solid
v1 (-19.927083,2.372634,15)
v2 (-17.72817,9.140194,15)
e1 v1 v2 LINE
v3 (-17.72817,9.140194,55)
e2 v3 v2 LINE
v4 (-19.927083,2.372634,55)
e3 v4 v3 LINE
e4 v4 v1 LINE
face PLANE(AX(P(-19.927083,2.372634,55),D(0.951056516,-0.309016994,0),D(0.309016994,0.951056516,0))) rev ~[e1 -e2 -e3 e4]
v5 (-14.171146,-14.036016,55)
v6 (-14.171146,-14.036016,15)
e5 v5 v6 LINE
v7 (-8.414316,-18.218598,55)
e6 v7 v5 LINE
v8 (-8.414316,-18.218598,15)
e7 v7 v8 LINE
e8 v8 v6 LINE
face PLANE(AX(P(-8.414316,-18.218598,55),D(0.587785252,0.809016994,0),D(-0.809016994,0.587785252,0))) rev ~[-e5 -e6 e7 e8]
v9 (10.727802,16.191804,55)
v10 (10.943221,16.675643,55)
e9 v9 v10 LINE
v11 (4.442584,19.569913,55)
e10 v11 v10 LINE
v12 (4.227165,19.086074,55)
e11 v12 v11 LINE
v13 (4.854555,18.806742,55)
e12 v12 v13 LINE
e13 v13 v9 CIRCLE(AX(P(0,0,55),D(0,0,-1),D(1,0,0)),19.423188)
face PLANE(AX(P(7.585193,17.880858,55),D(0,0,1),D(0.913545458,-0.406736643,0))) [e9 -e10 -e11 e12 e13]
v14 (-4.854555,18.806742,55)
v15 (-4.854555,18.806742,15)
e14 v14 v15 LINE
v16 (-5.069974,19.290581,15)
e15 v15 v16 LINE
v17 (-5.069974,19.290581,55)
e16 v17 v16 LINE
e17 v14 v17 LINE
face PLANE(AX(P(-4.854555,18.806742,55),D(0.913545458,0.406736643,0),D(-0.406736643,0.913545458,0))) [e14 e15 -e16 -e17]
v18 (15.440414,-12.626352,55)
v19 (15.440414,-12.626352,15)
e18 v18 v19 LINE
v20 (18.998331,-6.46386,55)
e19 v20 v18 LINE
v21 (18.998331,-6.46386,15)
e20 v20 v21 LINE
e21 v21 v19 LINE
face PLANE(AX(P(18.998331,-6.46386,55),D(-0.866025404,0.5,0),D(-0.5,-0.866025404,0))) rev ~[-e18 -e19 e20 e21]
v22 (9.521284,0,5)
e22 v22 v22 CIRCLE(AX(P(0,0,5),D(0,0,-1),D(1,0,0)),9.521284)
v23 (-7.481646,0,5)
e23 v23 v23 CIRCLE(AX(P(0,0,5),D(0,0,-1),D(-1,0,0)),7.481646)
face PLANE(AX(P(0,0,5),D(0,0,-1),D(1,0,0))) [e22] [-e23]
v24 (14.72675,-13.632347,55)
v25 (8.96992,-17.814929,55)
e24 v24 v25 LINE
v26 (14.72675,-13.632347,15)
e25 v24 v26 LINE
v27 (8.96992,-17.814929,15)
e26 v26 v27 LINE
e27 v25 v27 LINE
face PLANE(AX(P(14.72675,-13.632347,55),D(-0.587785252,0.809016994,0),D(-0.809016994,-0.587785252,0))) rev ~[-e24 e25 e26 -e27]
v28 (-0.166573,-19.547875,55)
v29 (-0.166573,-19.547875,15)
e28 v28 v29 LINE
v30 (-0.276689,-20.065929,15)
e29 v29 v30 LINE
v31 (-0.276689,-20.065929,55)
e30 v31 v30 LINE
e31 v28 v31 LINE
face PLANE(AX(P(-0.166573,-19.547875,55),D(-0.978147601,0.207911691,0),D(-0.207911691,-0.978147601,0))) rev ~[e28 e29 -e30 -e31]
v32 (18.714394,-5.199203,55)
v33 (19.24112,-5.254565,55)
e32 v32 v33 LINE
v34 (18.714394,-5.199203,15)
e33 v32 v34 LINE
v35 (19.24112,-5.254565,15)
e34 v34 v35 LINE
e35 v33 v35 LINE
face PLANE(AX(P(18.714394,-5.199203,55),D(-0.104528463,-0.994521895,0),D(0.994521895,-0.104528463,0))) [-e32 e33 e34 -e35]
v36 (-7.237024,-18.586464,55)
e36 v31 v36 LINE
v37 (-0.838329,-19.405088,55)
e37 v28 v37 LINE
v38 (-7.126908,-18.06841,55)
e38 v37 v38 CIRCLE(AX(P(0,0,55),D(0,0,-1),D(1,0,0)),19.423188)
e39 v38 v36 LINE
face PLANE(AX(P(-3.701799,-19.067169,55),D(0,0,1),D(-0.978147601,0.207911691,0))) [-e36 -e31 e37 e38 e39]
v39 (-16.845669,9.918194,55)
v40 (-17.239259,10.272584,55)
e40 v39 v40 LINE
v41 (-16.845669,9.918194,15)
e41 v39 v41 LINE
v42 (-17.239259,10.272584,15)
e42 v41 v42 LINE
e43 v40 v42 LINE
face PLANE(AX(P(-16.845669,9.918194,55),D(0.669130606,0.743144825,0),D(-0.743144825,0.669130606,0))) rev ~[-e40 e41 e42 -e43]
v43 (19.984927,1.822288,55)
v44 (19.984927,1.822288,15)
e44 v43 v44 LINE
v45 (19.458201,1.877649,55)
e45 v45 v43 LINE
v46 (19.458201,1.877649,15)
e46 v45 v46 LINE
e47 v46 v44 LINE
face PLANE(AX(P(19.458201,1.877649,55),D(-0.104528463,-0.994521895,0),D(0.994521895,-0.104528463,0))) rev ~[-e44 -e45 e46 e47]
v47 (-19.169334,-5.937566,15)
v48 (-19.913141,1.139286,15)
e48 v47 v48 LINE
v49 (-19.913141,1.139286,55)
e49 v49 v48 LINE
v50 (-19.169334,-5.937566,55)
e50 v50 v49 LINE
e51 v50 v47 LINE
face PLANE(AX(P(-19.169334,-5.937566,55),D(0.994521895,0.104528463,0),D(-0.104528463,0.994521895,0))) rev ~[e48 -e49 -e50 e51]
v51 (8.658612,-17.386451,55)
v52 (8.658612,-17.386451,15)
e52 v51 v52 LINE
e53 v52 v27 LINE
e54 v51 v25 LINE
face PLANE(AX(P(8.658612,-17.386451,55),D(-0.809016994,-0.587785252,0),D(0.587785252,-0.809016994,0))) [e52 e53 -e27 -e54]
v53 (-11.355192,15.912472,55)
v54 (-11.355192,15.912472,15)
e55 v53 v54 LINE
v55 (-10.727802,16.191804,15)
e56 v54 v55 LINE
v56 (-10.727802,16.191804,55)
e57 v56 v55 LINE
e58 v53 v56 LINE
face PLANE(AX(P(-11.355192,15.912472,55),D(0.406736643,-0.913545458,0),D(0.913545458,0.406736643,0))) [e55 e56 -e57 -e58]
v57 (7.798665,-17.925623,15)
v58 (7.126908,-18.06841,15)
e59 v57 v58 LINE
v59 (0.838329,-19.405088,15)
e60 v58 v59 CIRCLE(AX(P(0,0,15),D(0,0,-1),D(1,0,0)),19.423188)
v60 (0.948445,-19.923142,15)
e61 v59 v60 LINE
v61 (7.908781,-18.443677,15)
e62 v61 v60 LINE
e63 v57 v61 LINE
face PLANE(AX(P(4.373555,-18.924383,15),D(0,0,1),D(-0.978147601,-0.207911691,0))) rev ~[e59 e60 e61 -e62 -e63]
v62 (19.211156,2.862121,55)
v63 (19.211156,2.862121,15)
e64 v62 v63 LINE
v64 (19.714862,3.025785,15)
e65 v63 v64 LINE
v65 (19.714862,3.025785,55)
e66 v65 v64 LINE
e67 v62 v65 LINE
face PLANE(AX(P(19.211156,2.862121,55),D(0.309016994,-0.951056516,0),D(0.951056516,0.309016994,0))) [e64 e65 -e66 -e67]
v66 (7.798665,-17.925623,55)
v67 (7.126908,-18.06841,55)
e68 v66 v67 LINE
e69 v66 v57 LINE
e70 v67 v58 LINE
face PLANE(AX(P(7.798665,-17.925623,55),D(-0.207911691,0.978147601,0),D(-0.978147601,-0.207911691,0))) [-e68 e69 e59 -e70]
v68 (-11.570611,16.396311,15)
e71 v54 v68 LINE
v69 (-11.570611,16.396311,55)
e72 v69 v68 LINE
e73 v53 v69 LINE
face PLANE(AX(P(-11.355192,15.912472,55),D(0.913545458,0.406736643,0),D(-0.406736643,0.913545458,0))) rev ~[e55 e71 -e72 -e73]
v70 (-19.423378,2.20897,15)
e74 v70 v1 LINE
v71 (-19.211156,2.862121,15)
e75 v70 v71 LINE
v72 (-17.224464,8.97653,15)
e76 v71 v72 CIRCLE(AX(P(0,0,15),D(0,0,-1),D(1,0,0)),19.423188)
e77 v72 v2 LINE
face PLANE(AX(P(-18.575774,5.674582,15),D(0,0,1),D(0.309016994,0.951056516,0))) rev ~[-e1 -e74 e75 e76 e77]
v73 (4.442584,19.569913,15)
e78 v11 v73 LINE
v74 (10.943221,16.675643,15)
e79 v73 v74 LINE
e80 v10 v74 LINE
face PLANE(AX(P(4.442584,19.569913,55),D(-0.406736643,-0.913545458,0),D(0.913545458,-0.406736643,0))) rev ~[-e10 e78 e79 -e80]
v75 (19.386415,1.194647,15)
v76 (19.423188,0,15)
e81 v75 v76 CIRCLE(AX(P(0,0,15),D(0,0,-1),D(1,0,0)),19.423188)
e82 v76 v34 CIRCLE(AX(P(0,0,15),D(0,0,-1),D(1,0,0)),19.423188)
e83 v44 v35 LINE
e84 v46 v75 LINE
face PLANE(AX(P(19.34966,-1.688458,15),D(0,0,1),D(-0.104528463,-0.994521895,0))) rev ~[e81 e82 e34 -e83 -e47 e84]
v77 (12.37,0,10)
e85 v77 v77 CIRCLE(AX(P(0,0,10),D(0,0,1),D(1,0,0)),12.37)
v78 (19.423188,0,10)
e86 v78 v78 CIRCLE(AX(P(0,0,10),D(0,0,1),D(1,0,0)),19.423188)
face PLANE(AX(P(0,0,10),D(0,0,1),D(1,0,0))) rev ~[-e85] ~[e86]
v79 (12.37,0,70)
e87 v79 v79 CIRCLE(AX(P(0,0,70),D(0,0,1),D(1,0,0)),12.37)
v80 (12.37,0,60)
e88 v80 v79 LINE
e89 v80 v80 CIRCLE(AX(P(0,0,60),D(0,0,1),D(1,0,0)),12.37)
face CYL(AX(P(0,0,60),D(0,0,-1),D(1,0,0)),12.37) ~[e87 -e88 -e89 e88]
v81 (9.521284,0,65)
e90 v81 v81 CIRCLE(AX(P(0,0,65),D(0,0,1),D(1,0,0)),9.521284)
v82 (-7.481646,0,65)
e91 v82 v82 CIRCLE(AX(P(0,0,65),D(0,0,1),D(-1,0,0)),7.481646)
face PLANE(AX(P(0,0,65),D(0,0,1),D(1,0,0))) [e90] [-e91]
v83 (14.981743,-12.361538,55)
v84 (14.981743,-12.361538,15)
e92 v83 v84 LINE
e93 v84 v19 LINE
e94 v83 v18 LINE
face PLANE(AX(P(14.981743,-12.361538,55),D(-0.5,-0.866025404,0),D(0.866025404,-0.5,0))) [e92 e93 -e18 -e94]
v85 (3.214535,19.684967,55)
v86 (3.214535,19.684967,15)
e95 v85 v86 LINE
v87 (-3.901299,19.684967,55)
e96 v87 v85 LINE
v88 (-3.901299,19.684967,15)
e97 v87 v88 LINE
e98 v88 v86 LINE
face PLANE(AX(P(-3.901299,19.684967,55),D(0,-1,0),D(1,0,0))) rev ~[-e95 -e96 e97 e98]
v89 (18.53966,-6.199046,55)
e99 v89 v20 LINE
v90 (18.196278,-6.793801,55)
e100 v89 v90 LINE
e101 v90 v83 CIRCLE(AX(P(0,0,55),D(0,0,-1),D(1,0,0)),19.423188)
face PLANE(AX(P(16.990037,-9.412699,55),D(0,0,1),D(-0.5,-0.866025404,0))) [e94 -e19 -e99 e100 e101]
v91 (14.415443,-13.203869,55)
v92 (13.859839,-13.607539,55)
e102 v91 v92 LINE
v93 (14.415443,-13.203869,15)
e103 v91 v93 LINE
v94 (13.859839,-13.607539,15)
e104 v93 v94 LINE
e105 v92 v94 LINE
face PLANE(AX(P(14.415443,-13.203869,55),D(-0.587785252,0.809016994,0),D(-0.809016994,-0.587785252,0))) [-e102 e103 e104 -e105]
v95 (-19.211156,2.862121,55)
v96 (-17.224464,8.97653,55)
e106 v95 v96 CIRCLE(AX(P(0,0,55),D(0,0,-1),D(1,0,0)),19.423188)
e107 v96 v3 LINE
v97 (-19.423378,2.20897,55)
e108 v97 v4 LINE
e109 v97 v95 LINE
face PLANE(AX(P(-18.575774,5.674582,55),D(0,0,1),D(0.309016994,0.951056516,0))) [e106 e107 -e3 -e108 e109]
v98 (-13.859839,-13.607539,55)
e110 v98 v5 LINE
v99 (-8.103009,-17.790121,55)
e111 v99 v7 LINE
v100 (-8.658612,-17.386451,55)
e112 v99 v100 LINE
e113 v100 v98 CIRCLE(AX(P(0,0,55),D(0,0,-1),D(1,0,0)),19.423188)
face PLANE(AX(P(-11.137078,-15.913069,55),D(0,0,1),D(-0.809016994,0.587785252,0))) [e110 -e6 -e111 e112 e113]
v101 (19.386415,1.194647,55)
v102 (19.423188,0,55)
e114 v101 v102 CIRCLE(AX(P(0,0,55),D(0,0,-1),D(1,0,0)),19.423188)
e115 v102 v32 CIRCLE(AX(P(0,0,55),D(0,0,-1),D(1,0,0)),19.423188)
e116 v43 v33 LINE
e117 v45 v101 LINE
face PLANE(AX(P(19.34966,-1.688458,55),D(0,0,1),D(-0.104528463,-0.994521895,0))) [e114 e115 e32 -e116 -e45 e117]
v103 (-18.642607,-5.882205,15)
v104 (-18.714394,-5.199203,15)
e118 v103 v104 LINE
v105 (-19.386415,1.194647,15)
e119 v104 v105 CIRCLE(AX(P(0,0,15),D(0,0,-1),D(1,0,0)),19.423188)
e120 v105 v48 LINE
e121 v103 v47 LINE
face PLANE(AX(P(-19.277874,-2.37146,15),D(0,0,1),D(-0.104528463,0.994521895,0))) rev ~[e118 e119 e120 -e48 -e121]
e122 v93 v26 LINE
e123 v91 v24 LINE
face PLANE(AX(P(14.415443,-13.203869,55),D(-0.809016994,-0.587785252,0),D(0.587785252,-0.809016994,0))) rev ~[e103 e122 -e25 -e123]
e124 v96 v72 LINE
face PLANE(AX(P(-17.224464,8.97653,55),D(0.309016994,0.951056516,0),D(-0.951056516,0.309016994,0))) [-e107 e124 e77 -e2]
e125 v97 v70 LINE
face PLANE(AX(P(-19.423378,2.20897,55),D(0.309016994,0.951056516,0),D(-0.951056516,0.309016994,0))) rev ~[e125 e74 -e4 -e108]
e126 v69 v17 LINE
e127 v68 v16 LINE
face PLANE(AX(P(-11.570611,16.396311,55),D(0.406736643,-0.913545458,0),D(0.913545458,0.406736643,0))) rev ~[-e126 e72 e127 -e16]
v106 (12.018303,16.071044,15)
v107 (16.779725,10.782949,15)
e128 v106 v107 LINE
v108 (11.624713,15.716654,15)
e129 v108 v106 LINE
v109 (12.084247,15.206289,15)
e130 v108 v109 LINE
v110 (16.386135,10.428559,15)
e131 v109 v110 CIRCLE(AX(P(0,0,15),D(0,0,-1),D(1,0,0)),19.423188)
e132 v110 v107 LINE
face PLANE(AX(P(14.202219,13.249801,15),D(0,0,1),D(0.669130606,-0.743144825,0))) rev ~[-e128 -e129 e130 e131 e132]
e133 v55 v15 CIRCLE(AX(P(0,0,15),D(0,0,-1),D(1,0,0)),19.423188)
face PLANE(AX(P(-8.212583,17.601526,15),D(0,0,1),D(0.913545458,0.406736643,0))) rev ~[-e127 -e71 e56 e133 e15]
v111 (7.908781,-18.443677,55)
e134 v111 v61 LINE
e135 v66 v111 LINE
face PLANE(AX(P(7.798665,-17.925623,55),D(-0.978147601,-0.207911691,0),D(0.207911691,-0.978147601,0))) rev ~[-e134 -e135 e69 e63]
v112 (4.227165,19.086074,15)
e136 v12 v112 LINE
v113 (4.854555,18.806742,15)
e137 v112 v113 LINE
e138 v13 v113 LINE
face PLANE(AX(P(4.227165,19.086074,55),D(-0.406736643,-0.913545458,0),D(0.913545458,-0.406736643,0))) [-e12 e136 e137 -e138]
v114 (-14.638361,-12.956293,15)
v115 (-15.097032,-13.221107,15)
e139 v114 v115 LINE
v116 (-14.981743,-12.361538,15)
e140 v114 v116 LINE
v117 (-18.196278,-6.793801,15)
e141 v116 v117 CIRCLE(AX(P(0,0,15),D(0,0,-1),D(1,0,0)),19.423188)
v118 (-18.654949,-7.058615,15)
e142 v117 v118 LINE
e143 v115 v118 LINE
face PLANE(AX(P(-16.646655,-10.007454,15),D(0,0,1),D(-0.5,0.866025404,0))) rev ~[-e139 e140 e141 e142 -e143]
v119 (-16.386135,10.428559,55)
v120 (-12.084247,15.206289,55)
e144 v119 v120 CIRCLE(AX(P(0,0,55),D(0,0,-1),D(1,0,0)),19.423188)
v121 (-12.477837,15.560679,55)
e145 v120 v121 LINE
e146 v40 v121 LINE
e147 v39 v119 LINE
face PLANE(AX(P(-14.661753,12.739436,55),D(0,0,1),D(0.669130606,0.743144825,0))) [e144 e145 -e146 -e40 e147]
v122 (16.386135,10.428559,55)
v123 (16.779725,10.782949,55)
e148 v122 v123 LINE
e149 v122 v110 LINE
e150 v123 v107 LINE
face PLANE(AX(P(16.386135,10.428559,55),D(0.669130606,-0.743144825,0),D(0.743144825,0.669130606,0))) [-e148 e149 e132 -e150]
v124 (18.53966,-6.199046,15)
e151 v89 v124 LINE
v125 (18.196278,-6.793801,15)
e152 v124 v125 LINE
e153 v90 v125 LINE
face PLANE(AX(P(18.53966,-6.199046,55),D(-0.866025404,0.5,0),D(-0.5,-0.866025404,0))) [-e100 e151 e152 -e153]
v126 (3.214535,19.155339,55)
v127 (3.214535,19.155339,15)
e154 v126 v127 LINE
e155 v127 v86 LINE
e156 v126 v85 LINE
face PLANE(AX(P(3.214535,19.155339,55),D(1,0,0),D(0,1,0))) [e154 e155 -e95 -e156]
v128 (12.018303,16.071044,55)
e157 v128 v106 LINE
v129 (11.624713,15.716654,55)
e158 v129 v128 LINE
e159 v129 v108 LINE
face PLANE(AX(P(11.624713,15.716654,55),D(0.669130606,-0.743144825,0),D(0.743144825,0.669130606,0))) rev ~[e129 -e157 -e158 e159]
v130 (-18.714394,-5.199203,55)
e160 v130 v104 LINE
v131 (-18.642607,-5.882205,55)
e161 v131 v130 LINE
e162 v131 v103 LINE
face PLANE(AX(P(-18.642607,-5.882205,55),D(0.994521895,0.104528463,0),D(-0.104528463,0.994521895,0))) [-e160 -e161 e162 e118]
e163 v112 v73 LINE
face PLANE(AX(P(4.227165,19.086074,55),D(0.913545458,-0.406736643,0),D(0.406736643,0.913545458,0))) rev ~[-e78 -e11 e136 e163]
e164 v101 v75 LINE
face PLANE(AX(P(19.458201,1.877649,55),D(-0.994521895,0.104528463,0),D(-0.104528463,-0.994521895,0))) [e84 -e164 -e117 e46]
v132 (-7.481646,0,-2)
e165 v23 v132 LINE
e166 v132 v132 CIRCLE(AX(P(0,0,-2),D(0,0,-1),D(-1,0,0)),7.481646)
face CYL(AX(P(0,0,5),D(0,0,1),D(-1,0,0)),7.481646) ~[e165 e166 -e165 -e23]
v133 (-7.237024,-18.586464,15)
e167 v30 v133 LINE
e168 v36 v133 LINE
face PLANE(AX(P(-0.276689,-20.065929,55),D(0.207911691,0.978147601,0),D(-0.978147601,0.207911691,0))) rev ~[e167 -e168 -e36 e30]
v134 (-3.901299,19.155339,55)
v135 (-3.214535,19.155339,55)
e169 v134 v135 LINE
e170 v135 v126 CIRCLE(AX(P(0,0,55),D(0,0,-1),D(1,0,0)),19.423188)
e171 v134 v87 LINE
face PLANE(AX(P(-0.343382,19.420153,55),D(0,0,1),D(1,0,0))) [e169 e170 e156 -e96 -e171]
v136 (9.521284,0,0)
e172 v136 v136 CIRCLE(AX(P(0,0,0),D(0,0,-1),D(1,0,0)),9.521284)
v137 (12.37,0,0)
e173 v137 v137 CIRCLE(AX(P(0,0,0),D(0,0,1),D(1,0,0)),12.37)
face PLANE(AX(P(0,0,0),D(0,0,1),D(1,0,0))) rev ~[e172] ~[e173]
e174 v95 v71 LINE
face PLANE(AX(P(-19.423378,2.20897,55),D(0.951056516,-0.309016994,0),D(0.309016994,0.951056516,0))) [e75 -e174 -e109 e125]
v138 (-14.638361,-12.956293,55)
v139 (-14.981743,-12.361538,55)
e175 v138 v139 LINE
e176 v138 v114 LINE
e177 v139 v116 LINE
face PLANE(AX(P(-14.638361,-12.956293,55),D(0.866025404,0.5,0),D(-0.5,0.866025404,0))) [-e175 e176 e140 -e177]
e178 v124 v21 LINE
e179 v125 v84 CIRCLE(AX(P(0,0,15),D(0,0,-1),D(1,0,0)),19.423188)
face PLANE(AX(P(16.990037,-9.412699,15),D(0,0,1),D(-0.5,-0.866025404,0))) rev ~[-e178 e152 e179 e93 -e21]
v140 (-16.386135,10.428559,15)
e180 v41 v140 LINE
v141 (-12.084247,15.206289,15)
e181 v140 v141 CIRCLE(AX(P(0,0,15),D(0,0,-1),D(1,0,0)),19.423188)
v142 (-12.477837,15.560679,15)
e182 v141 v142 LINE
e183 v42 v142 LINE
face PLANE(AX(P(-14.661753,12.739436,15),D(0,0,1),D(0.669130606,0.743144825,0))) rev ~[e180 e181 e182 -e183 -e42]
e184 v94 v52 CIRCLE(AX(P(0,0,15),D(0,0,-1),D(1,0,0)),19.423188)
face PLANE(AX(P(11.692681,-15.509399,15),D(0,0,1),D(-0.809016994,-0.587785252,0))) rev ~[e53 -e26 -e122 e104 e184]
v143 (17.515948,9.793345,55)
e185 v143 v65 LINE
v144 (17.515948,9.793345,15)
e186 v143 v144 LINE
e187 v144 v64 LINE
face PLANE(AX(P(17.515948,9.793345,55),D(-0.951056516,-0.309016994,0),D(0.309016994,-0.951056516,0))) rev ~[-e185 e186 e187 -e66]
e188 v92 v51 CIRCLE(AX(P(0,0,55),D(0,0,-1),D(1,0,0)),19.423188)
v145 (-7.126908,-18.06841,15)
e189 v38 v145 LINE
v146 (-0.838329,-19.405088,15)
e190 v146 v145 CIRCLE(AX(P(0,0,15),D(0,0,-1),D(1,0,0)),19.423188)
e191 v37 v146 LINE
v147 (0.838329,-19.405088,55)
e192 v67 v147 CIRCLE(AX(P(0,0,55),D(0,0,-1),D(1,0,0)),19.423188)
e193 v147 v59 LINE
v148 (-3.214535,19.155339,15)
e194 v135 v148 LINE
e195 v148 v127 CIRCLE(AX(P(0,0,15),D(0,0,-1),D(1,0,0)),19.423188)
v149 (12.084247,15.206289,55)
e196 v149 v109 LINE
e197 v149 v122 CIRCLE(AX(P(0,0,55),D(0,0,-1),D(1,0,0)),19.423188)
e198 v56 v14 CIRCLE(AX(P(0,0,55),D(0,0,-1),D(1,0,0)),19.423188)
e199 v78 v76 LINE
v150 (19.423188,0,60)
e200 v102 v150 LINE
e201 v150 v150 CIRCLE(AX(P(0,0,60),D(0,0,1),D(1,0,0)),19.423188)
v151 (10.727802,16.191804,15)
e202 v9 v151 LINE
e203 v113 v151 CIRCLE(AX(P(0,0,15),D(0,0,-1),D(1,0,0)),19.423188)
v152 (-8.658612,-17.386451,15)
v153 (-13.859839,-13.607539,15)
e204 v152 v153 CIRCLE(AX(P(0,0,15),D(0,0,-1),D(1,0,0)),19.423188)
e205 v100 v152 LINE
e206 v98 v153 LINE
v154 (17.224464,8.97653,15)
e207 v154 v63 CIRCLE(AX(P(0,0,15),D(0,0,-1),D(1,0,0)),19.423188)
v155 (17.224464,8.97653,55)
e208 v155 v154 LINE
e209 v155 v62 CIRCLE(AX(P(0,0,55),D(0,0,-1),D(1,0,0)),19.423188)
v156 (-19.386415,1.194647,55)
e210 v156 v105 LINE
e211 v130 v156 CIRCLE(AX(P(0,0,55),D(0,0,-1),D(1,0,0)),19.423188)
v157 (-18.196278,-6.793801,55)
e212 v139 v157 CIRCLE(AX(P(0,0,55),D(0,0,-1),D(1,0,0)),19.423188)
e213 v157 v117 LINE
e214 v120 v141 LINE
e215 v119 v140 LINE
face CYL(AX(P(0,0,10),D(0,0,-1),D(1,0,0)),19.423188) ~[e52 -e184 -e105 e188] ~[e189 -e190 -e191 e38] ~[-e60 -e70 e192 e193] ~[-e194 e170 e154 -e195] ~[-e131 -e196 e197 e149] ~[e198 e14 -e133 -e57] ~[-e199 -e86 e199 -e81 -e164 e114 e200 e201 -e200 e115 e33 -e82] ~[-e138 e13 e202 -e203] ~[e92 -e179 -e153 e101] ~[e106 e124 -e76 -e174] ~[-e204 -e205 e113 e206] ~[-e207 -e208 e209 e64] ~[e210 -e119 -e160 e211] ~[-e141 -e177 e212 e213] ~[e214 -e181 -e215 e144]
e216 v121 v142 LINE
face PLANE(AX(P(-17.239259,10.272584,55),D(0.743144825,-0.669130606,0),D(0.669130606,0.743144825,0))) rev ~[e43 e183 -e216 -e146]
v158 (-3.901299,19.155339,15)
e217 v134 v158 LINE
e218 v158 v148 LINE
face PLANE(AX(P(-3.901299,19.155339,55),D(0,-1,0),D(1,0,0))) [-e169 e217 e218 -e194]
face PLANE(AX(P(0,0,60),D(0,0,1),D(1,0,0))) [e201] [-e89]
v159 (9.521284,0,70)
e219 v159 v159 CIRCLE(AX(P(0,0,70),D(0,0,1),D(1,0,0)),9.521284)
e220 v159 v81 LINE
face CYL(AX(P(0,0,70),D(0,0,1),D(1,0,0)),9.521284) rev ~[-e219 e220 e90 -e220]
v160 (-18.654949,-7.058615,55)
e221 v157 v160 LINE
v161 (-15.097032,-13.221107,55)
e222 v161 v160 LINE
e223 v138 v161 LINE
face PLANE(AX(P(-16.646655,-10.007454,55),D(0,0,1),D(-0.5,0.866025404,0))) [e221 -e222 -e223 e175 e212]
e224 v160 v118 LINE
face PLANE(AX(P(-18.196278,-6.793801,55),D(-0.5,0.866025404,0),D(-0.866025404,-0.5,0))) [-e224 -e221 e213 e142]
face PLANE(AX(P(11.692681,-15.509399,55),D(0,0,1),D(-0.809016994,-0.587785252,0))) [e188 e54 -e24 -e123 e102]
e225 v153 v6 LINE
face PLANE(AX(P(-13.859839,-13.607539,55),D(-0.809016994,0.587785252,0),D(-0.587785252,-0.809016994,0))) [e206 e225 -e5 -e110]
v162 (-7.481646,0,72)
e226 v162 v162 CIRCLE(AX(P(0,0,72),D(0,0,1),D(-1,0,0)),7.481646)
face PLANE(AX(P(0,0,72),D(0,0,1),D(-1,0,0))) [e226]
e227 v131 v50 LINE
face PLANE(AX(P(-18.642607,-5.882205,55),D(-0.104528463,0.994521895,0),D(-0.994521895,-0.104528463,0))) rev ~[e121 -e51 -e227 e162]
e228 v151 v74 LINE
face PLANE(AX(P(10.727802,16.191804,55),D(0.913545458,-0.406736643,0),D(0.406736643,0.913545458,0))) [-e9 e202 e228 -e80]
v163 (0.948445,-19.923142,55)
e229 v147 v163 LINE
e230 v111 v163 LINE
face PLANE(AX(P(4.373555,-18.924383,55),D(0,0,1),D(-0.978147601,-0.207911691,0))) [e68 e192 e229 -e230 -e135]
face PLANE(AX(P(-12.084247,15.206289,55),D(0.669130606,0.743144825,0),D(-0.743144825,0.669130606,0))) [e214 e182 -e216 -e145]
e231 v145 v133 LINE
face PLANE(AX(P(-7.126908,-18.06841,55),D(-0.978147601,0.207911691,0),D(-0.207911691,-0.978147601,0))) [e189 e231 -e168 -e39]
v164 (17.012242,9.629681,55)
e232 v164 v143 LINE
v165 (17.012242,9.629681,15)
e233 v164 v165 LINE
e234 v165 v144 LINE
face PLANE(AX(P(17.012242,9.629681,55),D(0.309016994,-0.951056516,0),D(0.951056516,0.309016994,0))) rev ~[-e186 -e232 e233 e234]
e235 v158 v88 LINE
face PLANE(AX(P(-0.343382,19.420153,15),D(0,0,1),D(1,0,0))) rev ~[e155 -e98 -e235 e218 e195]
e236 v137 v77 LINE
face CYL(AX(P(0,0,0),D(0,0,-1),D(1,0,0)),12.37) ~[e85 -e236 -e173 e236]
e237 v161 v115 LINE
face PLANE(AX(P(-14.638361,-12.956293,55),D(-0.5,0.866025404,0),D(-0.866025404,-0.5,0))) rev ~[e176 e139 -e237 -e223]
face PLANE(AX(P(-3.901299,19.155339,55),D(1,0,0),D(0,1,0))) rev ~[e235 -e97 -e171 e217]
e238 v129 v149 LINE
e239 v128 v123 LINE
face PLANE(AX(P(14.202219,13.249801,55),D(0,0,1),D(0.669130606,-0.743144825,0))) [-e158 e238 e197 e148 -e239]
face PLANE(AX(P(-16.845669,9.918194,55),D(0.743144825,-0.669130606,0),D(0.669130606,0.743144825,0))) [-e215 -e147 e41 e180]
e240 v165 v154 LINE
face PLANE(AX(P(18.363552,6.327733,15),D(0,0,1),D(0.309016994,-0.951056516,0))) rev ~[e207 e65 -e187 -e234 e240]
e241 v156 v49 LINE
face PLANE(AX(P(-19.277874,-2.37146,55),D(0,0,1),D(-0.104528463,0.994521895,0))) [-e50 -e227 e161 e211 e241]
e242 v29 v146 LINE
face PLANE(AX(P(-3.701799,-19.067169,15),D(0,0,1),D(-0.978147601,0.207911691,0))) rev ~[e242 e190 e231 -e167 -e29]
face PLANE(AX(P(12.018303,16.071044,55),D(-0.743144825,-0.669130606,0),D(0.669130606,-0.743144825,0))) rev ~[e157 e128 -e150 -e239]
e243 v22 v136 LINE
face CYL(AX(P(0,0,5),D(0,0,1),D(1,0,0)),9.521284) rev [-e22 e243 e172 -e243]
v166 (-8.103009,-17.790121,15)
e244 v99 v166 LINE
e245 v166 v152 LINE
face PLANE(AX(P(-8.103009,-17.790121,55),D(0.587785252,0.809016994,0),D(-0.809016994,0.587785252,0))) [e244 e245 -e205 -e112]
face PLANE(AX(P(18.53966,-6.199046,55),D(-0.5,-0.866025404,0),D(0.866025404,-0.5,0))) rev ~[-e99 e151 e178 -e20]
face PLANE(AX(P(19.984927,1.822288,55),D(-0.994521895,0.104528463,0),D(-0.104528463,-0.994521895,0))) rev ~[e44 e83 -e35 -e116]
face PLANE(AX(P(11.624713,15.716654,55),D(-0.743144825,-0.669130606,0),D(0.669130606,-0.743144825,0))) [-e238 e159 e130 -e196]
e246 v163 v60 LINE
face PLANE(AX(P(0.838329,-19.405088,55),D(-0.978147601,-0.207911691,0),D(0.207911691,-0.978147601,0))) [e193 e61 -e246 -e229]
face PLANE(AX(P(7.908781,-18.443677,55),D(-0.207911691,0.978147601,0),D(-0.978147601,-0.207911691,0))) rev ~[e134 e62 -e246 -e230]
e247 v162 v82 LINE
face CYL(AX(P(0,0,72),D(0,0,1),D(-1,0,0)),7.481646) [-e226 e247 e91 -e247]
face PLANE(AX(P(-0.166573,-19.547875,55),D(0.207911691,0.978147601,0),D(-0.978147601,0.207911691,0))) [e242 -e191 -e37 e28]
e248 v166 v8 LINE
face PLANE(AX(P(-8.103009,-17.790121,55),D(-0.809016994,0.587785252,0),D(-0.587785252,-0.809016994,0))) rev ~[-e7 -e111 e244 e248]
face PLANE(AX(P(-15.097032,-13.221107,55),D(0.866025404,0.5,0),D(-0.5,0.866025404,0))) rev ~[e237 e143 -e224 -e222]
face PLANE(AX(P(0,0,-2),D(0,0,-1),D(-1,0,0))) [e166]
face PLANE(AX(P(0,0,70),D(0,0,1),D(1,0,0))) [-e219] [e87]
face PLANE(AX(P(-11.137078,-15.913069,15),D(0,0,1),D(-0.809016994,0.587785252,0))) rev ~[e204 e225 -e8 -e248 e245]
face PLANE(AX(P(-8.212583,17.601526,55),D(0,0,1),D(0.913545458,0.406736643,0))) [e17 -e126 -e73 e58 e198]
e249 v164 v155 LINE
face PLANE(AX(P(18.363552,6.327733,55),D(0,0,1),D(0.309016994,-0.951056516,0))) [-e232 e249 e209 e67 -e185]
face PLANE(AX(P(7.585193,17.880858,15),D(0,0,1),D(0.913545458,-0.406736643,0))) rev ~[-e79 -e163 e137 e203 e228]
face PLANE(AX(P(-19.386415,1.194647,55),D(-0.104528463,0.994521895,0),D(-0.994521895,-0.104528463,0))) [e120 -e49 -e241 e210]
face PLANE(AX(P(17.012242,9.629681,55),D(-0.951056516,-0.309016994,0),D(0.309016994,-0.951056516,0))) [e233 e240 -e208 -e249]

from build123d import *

# Parameters (mm, degrees)
SKETCH1_R           = 12.37
BOSS_EXTRUDE1_DEPTH = 10
SKETCH2_R           = 19.423188446
BOSS_EXTRUDE2_DEPTH = 50
SKETCH4_R           = 12.37
BOSS_EXTRUDE3_DEPTH = 10
BOSS_EXTRUDE4_START = -5
SKETCH5_W           = 7.115833501
SKETCH5_H           = 0.529627629
BOSS_EXTRUDE4_DEPTH = 40
CIRPATTERN1_COUNT   = 15
SKETCH6_R           = 9.521283716
CUT_EXTRUDE1_DEPTH  = 5
CUT_EXTRUDE2_START  = -5
SKETCH7_R           = 9.521283716
CUT_EXTRUDE2_DEPTH  = 5
SKETCH8_R           = 7.481646465
BOSS_EXTRUDE5_DEPTH = 7
BOSS_EXTRUDE6_START = 7
SKETCH9_R           = 7.481646465
BOSS_EXTRUDE6_DEPTH = 7


with BuildPart() as part:
    # Sketch1 → Boss-Extrude1 (new body)
    with BuildSketch(Plane.XY):
        Circle(SKETCH1_R)
    extrude(amount=BOSS_EXTRUDE1_DEPTH)

    # Sketch2 → Boss-Extrude2 (add)
    with BuildSketch(Plane.XY.offset(10)):
        Circle(SKETCH2_R)
    extrude(amount=BOSS_EXTRUDE2_DEPTH)

    # Sketch4 → Boss-Extrude3 (add)
    with BuildSketch(Plane.XY.offset(60)):
        Circle(SKETCH4_R)
    extrude(amount=BOSS_EXTRUDE3_DEPTH)

    # Sketch5 → Boss-Extrude4 (add)
    with BuildSketch(Plane.XY.offset(60).offset(BOSS_EXTRUDE4_START)):
        with Locations((-0.343381899, 19.42015289)):
            Rectangle(SKETCH5_W, SKETCH5_H)
    boss_extrude4 = extrude(amount=-BOSS_EXTRUDE4_DEPTH)

    # CirPattern1: Boss-Extrude4 ×15 about axis
    cirpattern1_axis = Axis((0, 0, 0), (0, 0, -1))
    for i in range(1, CIRPATTERN1_COUNT):
        add(boss_extrude4.rotate(cirpattern1_axis, i * 360 / CIRPATTERN1_COUNT))

    # Sketch6 → Cut-Extrude1 (cut)
    with BuildSketch(Plane.XY.offset(70)):
        Circle(SKETCH6_R)
    extrude(amount=-CUT_EXTRUDE1_DEPTH, mode=Mode.SUBTRACT)

    # Sketch7 → Cut-Extrude2 (cut)
    with BuildSketch(Plane(origin=(0, 0, 0), x_dir=(-1, 0, 0), z_dir=(0, 0, -1)).offset(CUT_EXTRUDE2_START)):
        Circle(SKETCH7_R)
    extrude(amount=CUT_EXTRUDE2_DEPTH, mode=Mode.SUBTRACT)

    # Sketch8 → Boss-Extrude5 (add)
    with BuildSketch(Plane(origin=(0, 0, 5), x_dir=(-1, 0, 0), z_dir=(0, 0, -1))):
        Circle(SKETCH8_R)
    extrude(amount=BOSS_EXTRUDE5_DEPTH)

    # Sketch9 → Boss-Extrude6 (add)
    with BuildSketch(Plane.XY.offset(65).offset(BOSS_EXTRUDE6_START)):
        Circle(SKETCH9_R)
    extrude(amount=-BOSS_EXTRUDE6_DEPTH)


solid = part.part
